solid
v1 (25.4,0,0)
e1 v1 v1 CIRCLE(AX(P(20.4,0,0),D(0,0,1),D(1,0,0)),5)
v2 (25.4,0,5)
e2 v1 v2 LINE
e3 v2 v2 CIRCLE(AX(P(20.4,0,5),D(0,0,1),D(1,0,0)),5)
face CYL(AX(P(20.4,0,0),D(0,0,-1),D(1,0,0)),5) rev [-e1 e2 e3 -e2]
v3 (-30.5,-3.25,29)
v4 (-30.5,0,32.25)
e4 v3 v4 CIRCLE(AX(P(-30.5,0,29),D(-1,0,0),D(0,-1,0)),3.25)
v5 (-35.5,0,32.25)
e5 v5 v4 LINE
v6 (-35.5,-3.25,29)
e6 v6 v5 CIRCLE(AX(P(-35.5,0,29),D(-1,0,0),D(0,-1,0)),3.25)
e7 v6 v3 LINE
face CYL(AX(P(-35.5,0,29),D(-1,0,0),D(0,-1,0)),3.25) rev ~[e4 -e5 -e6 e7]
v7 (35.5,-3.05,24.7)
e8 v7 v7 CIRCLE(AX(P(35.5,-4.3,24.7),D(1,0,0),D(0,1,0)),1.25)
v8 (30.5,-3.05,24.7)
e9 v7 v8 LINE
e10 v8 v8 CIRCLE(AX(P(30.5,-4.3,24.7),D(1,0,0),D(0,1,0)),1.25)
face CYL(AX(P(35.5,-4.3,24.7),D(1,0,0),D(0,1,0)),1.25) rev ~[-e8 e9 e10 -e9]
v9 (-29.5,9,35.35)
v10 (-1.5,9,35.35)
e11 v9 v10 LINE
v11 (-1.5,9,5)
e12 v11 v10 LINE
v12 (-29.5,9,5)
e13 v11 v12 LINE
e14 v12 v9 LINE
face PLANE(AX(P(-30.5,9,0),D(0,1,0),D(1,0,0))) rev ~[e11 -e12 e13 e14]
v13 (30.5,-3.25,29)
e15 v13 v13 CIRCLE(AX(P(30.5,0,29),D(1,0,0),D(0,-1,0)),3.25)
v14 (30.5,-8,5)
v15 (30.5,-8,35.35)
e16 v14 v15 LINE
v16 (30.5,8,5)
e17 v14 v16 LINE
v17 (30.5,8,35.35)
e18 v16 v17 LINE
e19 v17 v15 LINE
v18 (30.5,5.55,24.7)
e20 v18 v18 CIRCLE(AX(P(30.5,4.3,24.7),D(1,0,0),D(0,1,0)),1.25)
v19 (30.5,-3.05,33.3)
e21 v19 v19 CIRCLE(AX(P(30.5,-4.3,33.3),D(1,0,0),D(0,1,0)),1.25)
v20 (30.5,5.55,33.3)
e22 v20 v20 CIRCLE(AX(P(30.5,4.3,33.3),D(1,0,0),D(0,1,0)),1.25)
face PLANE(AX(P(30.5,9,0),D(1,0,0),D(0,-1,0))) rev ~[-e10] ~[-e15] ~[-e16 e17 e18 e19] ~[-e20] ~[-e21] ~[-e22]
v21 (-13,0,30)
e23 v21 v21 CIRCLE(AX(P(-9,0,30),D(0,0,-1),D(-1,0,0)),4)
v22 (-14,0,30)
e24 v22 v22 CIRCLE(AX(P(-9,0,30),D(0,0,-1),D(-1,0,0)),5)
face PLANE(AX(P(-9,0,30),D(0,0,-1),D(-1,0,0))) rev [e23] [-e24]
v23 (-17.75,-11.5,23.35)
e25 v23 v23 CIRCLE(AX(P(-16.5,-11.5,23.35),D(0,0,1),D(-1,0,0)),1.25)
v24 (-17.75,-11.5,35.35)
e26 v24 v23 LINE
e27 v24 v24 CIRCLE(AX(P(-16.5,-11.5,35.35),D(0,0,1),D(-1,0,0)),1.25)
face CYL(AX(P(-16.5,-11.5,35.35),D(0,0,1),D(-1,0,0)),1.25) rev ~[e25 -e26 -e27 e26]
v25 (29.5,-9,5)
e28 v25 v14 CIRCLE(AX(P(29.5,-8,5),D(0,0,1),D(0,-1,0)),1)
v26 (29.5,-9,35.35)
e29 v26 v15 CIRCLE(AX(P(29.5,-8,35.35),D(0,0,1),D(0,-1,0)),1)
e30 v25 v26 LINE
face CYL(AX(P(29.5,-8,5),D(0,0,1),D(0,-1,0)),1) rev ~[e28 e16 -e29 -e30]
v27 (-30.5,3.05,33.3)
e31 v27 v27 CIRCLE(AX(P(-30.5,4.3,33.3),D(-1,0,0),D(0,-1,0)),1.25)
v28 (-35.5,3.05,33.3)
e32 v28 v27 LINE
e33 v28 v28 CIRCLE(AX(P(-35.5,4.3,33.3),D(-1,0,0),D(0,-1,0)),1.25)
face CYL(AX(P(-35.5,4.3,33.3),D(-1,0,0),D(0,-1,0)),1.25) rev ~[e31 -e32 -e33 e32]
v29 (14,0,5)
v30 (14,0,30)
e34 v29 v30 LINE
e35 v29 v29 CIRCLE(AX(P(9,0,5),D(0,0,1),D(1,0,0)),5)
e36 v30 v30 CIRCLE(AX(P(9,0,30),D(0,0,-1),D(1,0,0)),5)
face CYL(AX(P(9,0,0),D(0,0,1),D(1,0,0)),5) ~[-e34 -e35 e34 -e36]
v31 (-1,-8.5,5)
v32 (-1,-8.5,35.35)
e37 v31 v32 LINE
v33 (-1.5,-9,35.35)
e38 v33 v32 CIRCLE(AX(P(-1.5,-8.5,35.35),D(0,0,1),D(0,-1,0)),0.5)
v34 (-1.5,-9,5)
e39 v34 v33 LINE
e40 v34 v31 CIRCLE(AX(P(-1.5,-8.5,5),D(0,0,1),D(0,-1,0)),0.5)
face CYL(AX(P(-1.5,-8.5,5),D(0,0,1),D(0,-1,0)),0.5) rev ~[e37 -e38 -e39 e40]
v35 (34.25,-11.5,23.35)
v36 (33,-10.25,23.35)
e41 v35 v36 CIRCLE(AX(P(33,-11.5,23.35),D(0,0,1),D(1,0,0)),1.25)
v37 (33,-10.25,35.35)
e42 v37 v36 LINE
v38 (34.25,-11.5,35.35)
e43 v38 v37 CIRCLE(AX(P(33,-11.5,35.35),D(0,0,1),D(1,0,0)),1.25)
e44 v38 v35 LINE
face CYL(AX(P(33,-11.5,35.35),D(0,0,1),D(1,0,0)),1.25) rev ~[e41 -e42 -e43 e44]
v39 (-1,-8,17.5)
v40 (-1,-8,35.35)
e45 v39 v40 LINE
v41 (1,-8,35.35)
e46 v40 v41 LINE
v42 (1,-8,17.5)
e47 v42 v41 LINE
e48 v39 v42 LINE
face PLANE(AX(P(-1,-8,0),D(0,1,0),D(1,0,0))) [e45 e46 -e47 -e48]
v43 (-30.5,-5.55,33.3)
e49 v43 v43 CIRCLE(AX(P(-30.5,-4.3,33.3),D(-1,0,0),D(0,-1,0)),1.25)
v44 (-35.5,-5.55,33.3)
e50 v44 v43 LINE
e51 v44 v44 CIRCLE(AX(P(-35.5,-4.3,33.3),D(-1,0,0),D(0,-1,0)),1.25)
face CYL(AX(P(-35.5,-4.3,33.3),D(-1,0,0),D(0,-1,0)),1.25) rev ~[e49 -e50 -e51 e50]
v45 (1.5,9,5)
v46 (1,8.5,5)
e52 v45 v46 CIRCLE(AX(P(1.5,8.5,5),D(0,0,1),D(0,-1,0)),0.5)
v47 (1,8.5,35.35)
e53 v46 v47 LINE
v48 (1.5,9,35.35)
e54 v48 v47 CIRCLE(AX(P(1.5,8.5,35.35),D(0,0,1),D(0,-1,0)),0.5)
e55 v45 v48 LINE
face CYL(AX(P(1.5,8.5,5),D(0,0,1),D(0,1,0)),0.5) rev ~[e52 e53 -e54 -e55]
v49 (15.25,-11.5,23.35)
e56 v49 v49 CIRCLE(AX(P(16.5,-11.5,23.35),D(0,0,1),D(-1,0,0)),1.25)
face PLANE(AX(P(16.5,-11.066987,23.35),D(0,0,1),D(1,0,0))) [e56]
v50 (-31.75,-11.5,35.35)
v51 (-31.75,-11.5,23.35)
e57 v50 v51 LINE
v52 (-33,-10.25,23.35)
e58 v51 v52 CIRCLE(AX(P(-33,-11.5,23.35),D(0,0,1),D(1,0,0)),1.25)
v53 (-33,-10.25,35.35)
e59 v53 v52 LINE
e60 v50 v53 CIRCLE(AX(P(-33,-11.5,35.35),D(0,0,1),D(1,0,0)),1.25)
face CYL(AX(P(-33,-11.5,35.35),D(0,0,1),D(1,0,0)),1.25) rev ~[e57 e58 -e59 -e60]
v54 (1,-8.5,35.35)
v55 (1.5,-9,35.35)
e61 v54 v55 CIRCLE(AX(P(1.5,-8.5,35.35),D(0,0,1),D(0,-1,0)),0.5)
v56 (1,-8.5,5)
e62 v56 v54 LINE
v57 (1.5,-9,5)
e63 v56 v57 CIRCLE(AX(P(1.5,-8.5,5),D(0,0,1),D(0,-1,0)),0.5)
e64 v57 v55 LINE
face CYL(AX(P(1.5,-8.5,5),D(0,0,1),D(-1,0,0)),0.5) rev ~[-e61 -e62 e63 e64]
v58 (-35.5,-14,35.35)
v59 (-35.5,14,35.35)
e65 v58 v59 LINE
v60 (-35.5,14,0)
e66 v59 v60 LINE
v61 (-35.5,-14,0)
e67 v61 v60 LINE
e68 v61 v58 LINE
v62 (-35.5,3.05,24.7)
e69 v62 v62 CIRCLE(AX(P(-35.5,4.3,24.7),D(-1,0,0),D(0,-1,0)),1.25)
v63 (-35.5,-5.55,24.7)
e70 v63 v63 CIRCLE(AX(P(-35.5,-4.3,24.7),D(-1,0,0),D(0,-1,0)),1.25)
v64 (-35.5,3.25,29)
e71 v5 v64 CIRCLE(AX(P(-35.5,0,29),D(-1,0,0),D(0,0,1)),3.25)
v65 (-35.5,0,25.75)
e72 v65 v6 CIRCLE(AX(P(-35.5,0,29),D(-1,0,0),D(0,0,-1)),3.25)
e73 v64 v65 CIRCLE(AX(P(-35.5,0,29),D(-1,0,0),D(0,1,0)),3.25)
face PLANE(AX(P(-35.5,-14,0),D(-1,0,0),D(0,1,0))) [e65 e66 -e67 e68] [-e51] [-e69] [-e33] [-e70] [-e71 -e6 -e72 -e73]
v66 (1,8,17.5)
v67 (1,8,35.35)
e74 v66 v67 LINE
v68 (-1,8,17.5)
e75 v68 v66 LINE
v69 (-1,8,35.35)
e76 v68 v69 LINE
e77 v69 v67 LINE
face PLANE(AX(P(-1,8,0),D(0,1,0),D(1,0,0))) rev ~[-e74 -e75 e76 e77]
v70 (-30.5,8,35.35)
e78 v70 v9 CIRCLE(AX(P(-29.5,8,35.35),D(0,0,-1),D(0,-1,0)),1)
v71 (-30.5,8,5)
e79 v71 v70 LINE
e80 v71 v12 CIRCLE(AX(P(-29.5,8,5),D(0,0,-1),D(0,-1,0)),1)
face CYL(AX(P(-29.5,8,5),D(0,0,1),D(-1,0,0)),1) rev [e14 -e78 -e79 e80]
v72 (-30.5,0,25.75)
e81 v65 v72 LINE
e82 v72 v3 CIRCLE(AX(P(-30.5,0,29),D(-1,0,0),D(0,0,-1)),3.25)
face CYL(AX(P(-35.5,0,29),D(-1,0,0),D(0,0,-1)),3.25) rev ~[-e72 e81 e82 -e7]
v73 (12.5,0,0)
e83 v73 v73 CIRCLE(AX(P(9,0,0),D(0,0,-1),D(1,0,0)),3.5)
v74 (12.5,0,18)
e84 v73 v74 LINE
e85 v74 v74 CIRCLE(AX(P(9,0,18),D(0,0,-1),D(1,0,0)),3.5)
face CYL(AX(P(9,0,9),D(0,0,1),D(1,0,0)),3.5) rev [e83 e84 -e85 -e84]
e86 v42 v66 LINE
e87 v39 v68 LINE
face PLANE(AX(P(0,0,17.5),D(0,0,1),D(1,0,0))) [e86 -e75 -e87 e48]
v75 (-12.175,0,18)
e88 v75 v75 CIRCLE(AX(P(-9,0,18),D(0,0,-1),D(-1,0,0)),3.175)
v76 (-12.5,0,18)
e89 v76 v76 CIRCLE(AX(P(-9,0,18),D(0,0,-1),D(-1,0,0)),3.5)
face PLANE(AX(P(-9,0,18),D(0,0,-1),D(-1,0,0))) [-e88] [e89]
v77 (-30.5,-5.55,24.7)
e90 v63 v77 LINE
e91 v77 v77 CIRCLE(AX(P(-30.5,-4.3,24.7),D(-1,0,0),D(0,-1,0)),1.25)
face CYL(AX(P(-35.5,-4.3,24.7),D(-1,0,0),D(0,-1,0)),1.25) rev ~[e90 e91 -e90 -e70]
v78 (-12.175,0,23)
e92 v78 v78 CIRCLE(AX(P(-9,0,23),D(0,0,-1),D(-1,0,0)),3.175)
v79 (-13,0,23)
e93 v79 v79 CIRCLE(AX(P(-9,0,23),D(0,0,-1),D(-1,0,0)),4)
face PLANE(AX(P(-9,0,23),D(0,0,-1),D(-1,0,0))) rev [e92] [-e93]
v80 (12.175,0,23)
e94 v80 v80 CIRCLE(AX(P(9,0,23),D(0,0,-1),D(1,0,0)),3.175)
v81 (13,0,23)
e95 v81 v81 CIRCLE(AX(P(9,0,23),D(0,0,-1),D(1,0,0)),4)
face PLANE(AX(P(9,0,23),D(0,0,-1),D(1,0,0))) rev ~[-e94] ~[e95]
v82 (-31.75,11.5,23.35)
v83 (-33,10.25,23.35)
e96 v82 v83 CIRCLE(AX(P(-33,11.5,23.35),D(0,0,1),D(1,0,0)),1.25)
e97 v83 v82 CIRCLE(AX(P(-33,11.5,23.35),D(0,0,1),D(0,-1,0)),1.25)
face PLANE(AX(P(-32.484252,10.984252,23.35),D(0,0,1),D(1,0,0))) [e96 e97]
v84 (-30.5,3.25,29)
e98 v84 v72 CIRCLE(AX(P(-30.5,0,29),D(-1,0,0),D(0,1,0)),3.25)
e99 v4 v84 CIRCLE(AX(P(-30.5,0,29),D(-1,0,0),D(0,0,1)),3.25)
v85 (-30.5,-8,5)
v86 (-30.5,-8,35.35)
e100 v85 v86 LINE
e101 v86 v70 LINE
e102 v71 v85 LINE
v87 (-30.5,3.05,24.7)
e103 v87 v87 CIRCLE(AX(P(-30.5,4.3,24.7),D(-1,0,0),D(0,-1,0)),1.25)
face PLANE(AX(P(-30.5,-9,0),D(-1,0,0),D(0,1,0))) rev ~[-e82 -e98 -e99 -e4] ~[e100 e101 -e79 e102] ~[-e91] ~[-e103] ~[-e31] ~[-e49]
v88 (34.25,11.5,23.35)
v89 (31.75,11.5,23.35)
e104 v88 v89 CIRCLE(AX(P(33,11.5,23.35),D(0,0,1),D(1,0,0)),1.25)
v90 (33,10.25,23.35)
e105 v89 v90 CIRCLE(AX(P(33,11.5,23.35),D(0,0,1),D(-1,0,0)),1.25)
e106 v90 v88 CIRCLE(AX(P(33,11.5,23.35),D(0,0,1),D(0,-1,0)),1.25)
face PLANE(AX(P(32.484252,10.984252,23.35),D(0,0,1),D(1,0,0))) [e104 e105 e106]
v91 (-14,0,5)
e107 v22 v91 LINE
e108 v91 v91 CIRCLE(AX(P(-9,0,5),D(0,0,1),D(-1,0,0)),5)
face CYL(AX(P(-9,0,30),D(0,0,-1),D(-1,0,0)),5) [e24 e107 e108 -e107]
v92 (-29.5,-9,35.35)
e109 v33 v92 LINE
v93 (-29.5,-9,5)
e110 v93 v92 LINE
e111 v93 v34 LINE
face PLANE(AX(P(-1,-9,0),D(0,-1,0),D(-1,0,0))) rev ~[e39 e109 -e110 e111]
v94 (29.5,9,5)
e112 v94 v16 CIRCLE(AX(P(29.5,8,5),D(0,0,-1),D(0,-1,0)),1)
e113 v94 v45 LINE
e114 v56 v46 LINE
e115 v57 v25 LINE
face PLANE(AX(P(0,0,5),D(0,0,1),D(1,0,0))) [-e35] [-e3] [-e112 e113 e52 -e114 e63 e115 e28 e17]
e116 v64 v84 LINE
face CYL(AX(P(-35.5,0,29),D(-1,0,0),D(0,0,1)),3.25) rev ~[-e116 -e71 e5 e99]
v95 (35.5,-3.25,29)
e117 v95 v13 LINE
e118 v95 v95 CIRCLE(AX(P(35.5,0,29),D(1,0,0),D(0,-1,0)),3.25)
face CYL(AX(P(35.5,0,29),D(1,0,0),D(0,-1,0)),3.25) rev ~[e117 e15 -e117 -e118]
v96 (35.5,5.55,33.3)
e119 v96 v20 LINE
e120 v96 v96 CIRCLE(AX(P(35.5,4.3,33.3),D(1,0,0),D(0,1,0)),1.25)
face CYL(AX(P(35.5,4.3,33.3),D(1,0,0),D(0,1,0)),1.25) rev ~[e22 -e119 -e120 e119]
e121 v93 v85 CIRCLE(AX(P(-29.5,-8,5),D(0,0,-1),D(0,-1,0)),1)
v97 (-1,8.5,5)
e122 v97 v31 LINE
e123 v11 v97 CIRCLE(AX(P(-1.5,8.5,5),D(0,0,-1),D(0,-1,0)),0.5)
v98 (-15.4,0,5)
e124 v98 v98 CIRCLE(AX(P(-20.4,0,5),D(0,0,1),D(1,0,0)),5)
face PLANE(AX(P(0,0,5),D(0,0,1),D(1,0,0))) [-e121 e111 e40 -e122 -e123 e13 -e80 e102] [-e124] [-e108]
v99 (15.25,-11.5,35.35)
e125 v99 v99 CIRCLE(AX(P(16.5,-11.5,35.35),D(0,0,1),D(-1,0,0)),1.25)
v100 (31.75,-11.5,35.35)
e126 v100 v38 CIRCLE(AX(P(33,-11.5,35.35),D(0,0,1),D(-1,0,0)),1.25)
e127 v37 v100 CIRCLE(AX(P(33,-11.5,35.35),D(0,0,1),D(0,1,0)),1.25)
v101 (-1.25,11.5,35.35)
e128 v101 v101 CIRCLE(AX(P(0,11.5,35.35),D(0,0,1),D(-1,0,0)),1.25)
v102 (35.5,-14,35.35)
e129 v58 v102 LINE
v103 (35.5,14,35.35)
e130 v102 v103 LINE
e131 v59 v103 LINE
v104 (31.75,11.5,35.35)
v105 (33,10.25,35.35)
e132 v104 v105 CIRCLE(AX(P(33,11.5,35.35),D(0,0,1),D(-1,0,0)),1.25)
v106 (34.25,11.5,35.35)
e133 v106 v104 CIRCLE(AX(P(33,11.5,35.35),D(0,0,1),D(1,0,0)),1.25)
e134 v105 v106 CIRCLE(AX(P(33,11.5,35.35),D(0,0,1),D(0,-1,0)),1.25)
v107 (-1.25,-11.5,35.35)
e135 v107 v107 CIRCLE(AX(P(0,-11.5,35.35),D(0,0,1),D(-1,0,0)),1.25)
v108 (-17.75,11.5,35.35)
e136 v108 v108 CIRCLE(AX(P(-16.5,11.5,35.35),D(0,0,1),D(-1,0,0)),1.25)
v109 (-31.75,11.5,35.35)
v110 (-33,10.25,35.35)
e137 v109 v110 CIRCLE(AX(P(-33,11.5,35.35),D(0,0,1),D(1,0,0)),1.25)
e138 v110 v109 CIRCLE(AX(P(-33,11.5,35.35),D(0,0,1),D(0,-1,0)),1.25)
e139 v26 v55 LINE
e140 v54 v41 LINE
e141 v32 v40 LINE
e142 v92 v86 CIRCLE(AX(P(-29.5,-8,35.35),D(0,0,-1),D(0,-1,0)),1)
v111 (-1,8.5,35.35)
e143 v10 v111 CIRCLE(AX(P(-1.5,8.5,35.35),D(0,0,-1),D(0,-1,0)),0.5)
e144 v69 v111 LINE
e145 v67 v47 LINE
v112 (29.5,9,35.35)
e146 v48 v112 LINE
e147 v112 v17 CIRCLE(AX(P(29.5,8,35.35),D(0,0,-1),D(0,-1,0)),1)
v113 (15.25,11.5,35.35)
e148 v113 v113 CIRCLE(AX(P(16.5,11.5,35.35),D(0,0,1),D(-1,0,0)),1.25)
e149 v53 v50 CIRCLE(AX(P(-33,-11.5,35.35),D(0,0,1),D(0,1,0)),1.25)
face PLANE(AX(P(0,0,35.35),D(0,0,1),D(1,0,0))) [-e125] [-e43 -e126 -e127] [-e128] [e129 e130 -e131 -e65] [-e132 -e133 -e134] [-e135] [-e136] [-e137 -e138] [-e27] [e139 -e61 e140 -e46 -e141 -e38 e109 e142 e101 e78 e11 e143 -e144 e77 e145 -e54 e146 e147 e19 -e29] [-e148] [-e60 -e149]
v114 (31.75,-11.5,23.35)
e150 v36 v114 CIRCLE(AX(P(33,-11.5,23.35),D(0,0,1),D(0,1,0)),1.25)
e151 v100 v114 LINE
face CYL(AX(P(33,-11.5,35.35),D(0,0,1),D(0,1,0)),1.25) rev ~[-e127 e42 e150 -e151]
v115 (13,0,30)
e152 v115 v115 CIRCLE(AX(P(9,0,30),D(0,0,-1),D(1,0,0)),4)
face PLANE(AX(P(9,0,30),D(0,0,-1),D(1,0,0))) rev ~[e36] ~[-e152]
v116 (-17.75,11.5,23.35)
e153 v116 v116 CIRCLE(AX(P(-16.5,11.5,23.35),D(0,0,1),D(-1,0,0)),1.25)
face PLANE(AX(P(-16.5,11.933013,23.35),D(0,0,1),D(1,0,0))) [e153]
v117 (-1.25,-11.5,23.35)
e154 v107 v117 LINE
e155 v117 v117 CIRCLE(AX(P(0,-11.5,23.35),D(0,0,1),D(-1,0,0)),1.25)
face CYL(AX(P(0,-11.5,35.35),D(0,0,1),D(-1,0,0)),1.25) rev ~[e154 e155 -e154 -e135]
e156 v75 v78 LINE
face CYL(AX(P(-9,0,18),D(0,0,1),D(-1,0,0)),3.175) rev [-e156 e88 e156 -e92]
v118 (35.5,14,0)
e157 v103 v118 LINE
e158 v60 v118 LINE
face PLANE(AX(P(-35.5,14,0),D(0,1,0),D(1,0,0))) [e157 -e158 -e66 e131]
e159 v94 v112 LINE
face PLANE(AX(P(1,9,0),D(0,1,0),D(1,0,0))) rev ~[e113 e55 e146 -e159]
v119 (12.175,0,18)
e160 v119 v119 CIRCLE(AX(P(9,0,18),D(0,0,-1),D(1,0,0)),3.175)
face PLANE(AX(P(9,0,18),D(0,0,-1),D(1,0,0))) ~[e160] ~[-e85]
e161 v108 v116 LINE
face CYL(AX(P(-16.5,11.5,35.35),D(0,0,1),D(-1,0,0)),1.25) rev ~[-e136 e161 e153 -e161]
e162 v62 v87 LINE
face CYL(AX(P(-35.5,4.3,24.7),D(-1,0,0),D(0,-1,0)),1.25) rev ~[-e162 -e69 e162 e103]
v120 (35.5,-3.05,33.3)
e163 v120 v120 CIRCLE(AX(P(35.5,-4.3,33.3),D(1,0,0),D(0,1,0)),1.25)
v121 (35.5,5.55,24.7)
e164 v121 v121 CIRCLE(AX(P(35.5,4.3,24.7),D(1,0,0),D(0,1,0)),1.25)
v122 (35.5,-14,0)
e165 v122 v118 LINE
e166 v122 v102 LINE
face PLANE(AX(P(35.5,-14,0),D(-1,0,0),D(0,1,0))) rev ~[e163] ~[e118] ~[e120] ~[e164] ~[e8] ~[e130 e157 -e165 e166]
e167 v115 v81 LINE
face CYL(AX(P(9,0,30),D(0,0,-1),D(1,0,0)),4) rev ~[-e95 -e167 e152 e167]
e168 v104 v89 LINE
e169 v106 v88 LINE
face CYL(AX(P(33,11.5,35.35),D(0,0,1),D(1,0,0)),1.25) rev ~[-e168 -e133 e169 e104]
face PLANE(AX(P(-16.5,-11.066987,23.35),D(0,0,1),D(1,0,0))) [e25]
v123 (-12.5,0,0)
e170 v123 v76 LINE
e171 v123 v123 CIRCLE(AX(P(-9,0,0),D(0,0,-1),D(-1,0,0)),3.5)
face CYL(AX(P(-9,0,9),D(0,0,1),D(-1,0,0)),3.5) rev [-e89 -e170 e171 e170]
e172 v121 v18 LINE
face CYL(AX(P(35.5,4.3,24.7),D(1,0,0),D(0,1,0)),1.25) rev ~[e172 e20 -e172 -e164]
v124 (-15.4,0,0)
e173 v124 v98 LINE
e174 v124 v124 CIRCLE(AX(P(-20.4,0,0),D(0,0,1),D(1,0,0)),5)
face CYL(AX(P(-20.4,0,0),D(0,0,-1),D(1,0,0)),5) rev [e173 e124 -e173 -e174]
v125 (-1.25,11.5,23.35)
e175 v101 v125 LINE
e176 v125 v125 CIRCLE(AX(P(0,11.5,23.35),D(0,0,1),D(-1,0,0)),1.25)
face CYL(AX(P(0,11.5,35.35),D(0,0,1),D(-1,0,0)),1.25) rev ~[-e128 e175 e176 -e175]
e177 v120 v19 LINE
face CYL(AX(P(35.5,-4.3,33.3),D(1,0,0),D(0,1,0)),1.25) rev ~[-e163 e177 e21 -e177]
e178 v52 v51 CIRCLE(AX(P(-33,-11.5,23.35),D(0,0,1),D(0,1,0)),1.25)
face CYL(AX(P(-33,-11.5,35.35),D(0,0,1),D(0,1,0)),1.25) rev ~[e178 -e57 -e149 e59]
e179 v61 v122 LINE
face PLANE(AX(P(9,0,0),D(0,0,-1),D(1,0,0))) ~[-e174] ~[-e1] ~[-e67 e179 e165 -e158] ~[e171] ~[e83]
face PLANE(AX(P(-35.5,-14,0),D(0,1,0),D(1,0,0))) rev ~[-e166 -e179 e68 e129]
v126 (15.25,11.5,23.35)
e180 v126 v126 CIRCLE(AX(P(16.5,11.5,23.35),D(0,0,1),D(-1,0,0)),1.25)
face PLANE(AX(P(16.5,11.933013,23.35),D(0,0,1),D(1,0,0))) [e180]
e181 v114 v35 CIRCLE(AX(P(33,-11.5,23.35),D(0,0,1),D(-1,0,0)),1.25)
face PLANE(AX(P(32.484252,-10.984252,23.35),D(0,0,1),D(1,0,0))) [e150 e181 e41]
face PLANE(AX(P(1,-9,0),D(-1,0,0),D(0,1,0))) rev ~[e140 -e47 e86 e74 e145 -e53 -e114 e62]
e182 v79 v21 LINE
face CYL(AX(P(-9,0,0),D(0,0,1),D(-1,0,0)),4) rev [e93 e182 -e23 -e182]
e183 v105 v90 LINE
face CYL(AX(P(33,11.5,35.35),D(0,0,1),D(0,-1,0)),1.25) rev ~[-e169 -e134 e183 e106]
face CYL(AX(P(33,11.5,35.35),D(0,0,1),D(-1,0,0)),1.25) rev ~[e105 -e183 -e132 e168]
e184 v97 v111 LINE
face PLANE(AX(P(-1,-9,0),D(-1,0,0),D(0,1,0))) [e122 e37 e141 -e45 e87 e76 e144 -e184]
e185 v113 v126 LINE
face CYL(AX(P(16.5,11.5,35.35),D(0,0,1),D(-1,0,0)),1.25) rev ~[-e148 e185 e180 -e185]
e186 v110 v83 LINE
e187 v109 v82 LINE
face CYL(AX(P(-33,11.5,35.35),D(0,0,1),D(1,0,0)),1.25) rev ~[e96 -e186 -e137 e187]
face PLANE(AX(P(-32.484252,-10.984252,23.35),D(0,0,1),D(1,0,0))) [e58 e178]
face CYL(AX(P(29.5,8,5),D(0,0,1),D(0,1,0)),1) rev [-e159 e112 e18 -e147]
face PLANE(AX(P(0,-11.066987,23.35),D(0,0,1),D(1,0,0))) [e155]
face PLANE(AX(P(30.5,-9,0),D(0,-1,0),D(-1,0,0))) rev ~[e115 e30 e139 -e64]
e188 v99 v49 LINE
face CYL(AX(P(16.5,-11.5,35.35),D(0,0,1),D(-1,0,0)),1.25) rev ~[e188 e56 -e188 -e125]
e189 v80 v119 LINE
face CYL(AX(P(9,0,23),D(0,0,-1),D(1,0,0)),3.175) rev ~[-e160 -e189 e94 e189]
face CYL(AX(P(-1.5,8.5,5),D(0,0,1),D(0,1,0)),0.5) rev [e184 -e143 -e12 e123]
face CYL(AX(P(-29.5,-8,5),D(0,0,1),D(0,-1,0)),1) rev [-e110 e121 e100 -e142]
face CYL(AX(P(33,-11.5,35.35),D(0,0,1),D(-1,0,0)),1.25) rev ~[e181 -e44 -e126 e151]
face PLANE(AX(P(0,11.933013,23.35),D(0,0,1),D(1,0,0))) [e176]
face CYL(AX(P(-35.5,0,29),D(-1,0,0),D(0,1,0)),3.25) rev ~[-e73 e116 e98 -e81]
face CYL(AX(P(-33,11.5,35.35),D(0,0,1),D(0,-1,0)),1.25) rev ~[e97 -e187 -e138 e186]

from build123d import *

# Parameters (mm, degrees)
F0_W      = 71
F0_H      = 28
F0_R      = 5
F0_W_2    = 2
F0_H_2    = 1
F0_H_3    = 16
F1_DEPTH  = 5
F2_DEPTH  = 35.35
F3_DEPTH  = 17.5
F4_R      = 0.5
F5_DEPTH  = 5
F6_W      = 0.5
F6_H      = 18
F11_DEPTH = 12
F12_R     = 1
F9_R      = 1.25
F14_DEPTH = 5
F13_R     = 1.25
F15_DEPTH = 5


with BuildPart() as f1:
    # F0 (on Top) → F1 (new body)
    with BuildSketch(Plane.XY):
        Rectangle(F0_W, F0_H)
        Polygon((-1, -9), (-30.5, -9), (-30.5, 9), (-1, 9), (1, 9), (30.5, 9), (30.5, -9), (1, -9), align=None, mode=Mode.SUBTRACT)
        Polygon((-30.5, 9), (-30.5, -9), (-1, -9), (-1, -8), (-1, 8), (-1, 9), align=None)
        with Locations((-20.4, 0)):
            Circle(F0_R, mode=Mode.SUBTRACT)
        with Locations((-9, 0)):
            Circle(F0_R, mode=Mode.SUBTRACT)
        Polygon((1, -8), (1, -9), (30.5, -9), (30.5, 9), (1, 9), (1, 8), align=None)
        with Locations((9, 0)):
            Circle(F0_R, mode=Mode.SUBTRACT)
        with Locations((20.4, 0)):
            Circle(F0_R, mode=Mode.SUBTRACT)
        with Locations((-20.4, 0)):
            Circle(F0_R)
        with Locations((-9, 0)):
            Circle(F0_R)
        with Locations((9, 0)):
            Circle(F0_R)
        with Locations((20.4, 0)):
            Circle(F0_R)
        with Locations((0, 8.5)):
            Rectangle(F0_W_2, F0_H_2)
        with Locations((0, -8.5)):
            Rectangle(F0_W_2, F0_H_2)
        Rectangle(F0_W_2, F0_H_3)
    extrude(amount=F1_DEPTH)

    # F0 (on Top) → F2 (join)
    with BuildSketch(Plane.XY):
        Rectangle(F0_W, F0_H)
        Polygon((-1, -9), (-30.5, -9), (-30.5, 9), (-1, 9), (1, 9), (30.5, 9), (30.5, -9), (1, -9), align=None, mode=Mode.SUBTRACT)
        with Locations((0, 8.5)):
            Rectangle(F0_W_2, F0_H_2)
        with Locations((0, -8.5)):
            Rectangle(F0_W_2, F0_H_2)
    extrude(amount=F2_DEPTH)

    # F0 (on Top) → F3 (join)
    with BuildSketch(Plane.XY):
        Rectangle(F0_W_2, F0_H_3)
    extrude(amount=F3_DEPTH)

    # F4
    f4_edges = [f1.edges().sort_by_distance(p)[0] for p in [
        (-1, 9, 20.175),
        (1, 9, 20.175),
        (-1, -9, 20.175),
        (1, -9, 20.175),
    ]]
    fillet(f4_edges, radius=F4_R)

    # F0 (on Top) → F5 (cut)
    with BuildSketch(Plane.XY):
        with Locations((-20.4, 0)):
            Circle(F0_R)
        with Locations((20.4, 0)):
            Circle(F0_R)
        with Locations((-9, 0)):
            Circle(F0_R)
        with Locations((9, 0)):
            Circle(F0_R)
    extrude(amount=F5_DEPTH, mode=Mode.SUBTRACT)

    # F6 (on Front) → F7 (revolve)
    with BuildSketch(Plane.XZ):
        Polygon((-14, 30), (-14, 0), (-13, 0), (-13, 18), (-13, 23), (-13, 30), align=None)
        Polygon((-13, 23), (-13, 18), (-12.5, 18), (-12.175, 18), (-12.175, 23), align=None)
        with Locations((-12.75, 9)):
            Rectangle(F6_W, F6_H)
    revolve(axis=Axis((-9, 0, 20.5), (0, 0, -1)))

    # F6 (on Front) → F8 (revolve)
    with BuildSketch(Plane.XZ):
        Polygon((12.5, 18), (13, 18), (13, 23), (12.175, 23), (12.175, 18), align=None)
        Polygon((13, 23), (13, 18), (13, 0), (14, 0), (14, 30), (13, 30), align=None)
        with Locations((12.75, 9)):
            Rectangle(F6_W, F6_H)
    revolve(axis=Axis((9, 0, 20.5), (0, 0, -1)))

    # F10 (on face) → F11 (cut)
    with BuildSketch(Plane.XY.offset(35.35)):
        with BuildLine():
            ThreePointArc((-33, 10.25), (-32.1161165235, 10.6161165235), (-31.75, 11.5))
            Line((-31.75, 11.5), (-33, 11.5))
            Line((-33, 11.5), (-33, 10.25))
        make_face()
        with BuildLine():
            Line((-33, 11.5), (-31.75, 11.5))
            ThreePointArc((-31.75, 11.5), (-33.8838834765, 12.3838834765), (-33, 10.25))
            Line((-33, 10.25), (-33, 11.5))
        make_face()
        with BuildLine():
            ThreePointArc((-15.25, 11.5), (-16.5, 12.75), (-17.75, 11.5))
            Line((-17.75, 11.5), (-15.25, 11.5))
        make_face()
        with BuildLine():
            Line((-15.25, 11.5), (-17.75, 11.5))
            ThreePointArc((-17.75, 11.5), (-16.5, 10.25), (-15.25, 11.5))
        make_face()
        with BuildLine():
            ThreePointArc((1.25, 11.5), (0, 12.75), (-1.25, 11.5))
            Line((-1.25, 11.5), (1.25, 11.5))
        make_face()
        with BuildLine():
            Line((1.25, 11.5), (-1.25, 11.5))
            ThreePointArc((-1.25, 11.5), (0, 10.25), (1.25, 11.5))
        make_face()
        with BuildLine():
            ThreePointArc((17.75, 11.5), (16.5, 12.75), (15.25, 11.5))
            Line((15.25, 11.5), (17.75, 11.5))
        make_face()
        with BuildLine():
            Line((17.75, 11.5), (15.25, 11.5))
            ThreePointArc((15.25, 11.5), (16.5, 10.25), (17.75, 11.5))
        make_face()
        with BuildLine():
            Line((33, 11.5), (31.75, 11.5))
            ThreePointArc((31.75, 11.5), (32.1161165235, 10.6161165235), (33, 10.25))
            Line((33, 10.25), (33, 11.5))
        make_face()
        with BuildLine():
            ThreePointArc((34.25, 11.5), (33, 12.75), (31.75, 11.5))
            Line((31.75, 11.5), (33, 11.5))
            Line((33, 11.5), (33, 10.25))
            ThreePointArc((33, 10.25), (33.8838834765, 10.6161165235), (34.25, 11.5))
        make_face()
        with BuildLine():
            ThreePointArc((-31.75, -11.5), (-32.1161165235, -10.6161165235), (-33, -10.25))
            Line((-33, -10.25), (-33, -11.5))
            Line((-33, -11.5), (-31.75, -11.5))
        make_face()
        with BuildLine():
            Line((-33, -11.5), (-33, -10.25))
            ThreePointArc((-33, -10.25), (-33.8838834765, -12.3838834765), (-31.75, -11.5))
            Line((-31.75, -11.5), (-33, -11.5))
        make_face()
        with BuildLine():
            ThreePointArc((-15.25, -11.5), (-16.5, -10.25), (-17.75, -11.5))
            Line((-17.75, -11.5), (-15.25, -11.5))
        make_face()
        with BuildLine():
            Line((-15.25, -11.5), (-17.75, -11.5))
            ThreePointArc((-17.75, -11.5), (-16.5, -12.75), (-15.25, -11.5))
        make_face()
        with BuildLine():
            ThreePointArc((1.25, -11.5), (0, -10.25), (-1.25, -11.5))
            Line((-1.25, -11.5), (1.25, -11.5))
        make_face()
        with BuildLine():
            Line((1.25, -11.5), (-1.25, -11.5))
            ThreePointArc((-1.25, -11.5), (0, -12.75), (1.25, -11.5))
        make_face()
        with BuildLine():
            ThreePointArc((17.75, -11.5), (16.5, -10.25), (15.25, -11.5))
            Line((15.25, -11.5), (17.75, -11.5))
        make_face()
        with BuildLine():
            Line((17.75, -11.5), (15.25, -11.5))
            ThreePointArc((15.25, -11.5), (16.5, -12.75), (17.75, -11.5))
        make_face()
        with BuildLine():
            Line((33, -11.5), (33, -10.25))
            ThreePointArc((33, -10.25), (32.1161165235, -10.6161165235), (31.75, -11.5))
            Line((31.75, -11.5), (33, -11.5))
        make_face()
        with BuildLine():
            ThreePointArc((34.25, -11.5), (33.8838834765, -10.6161165235), (33, -10.25))
            Line((33, -10.25), (33, -11.5))
            Line((33, -11.5), (31.75, -11.5))
            ThreePointArc((31.75, -11.5), (33, -12.75), (34.25, -11.5))
        make_face()
    extrude(amount=-F11_DEPTH, mode=Mode.SUBTRACT)

    # F12
    f12_edges = [f1.edges().sort_by_distance(p)[0] for p in [
        (-30.5, -9, 20.175),
        (-30.5, 9, 20.175),
        (30.5, 9, 20.175),
        (30.5, -9, 20.175),
    ]]
    fillet(f12_edges, radius=F12_R)

    # F9 (on face) → F14 (cut)
    with BuildSketch(Plane(origin=(-35.5, 0, 0), x_dir=(0, -1, 0), z_dir=(-1, 0, 0))):
        with BuildLine():
            Line((0, 29), (3.25, 29))
            ThreePointArc((3.25, 29), (2.2980970389, 31.2980970389), (0, 32.25))
            Line((0, 32.25), (0, 29))
        make_face()
        with BuildLine():
            ThreePointArc((0, 25.75), (2.2980970389, 26.7019029611), (3.25, 29))
            Line((3.25, 29), (0, 29))
            Line((0, 29), (0, 25.75))
        make_face()
        with BuildLine():
            Line((0, 29), (0, 32.25))
            ThreePointArc((0, 32.25), (-2.2980970389, 31.2980970389), (-3.25, 29))
            Line((-3.25, 29), (0, 29))
        make_face()
        with BuildLine():
            ThreePointArc((-3.25, 29), (-2.2980970389, 26.7019029611), (0, 25.75))
            Line((0, 25.75), (0, 29))
            Line((0, 29), (-3.25, 29))
        make_face()
        with Locations((-4.3, 33.3)):
            Circle(F9_R)
        with Locations((-4.3, 24.7)):
            Circle(F9_R)
        with Locations((4.3, 33.3)):
            Circle(F9_R)
        with Locations((4.3, 24.7)):
            Circle(F9_R)
    extrude(amount=-F14_DEPTH, mode=Mode.SUBTRACT)

    # F13 (on face) → F15 (cut)
    with BuildSketch(Plane.YZ.offset(35.5)):
        with BuildLine():
            Line((-3.25, 29), (3.25, 29))
            ThreePointArc((3.25, 29), (0, 32.25), (-3.25, 29))
        make_face()
        with BuildLine():
            ThreePointArc((-3.25, 29), (0, 25.75), (3.25, 29))
            Line((3.25, 29), (-3.25, 29))
        make_face()
        with Locations((-4.3, 33.3)):
            Circle(F13_R)
        with Locations((-4.3, 24.7)):
            Circle(F13_R)
        with Locations((4.3, 33.3)):
            Circle(F13_R)
        with Locations((4.3, 24.7)):
            Circle(F13_R)
    extrude(amount=-F15_DEPTH, mode=Mode.SUBTRACT)


solid = f1.part
